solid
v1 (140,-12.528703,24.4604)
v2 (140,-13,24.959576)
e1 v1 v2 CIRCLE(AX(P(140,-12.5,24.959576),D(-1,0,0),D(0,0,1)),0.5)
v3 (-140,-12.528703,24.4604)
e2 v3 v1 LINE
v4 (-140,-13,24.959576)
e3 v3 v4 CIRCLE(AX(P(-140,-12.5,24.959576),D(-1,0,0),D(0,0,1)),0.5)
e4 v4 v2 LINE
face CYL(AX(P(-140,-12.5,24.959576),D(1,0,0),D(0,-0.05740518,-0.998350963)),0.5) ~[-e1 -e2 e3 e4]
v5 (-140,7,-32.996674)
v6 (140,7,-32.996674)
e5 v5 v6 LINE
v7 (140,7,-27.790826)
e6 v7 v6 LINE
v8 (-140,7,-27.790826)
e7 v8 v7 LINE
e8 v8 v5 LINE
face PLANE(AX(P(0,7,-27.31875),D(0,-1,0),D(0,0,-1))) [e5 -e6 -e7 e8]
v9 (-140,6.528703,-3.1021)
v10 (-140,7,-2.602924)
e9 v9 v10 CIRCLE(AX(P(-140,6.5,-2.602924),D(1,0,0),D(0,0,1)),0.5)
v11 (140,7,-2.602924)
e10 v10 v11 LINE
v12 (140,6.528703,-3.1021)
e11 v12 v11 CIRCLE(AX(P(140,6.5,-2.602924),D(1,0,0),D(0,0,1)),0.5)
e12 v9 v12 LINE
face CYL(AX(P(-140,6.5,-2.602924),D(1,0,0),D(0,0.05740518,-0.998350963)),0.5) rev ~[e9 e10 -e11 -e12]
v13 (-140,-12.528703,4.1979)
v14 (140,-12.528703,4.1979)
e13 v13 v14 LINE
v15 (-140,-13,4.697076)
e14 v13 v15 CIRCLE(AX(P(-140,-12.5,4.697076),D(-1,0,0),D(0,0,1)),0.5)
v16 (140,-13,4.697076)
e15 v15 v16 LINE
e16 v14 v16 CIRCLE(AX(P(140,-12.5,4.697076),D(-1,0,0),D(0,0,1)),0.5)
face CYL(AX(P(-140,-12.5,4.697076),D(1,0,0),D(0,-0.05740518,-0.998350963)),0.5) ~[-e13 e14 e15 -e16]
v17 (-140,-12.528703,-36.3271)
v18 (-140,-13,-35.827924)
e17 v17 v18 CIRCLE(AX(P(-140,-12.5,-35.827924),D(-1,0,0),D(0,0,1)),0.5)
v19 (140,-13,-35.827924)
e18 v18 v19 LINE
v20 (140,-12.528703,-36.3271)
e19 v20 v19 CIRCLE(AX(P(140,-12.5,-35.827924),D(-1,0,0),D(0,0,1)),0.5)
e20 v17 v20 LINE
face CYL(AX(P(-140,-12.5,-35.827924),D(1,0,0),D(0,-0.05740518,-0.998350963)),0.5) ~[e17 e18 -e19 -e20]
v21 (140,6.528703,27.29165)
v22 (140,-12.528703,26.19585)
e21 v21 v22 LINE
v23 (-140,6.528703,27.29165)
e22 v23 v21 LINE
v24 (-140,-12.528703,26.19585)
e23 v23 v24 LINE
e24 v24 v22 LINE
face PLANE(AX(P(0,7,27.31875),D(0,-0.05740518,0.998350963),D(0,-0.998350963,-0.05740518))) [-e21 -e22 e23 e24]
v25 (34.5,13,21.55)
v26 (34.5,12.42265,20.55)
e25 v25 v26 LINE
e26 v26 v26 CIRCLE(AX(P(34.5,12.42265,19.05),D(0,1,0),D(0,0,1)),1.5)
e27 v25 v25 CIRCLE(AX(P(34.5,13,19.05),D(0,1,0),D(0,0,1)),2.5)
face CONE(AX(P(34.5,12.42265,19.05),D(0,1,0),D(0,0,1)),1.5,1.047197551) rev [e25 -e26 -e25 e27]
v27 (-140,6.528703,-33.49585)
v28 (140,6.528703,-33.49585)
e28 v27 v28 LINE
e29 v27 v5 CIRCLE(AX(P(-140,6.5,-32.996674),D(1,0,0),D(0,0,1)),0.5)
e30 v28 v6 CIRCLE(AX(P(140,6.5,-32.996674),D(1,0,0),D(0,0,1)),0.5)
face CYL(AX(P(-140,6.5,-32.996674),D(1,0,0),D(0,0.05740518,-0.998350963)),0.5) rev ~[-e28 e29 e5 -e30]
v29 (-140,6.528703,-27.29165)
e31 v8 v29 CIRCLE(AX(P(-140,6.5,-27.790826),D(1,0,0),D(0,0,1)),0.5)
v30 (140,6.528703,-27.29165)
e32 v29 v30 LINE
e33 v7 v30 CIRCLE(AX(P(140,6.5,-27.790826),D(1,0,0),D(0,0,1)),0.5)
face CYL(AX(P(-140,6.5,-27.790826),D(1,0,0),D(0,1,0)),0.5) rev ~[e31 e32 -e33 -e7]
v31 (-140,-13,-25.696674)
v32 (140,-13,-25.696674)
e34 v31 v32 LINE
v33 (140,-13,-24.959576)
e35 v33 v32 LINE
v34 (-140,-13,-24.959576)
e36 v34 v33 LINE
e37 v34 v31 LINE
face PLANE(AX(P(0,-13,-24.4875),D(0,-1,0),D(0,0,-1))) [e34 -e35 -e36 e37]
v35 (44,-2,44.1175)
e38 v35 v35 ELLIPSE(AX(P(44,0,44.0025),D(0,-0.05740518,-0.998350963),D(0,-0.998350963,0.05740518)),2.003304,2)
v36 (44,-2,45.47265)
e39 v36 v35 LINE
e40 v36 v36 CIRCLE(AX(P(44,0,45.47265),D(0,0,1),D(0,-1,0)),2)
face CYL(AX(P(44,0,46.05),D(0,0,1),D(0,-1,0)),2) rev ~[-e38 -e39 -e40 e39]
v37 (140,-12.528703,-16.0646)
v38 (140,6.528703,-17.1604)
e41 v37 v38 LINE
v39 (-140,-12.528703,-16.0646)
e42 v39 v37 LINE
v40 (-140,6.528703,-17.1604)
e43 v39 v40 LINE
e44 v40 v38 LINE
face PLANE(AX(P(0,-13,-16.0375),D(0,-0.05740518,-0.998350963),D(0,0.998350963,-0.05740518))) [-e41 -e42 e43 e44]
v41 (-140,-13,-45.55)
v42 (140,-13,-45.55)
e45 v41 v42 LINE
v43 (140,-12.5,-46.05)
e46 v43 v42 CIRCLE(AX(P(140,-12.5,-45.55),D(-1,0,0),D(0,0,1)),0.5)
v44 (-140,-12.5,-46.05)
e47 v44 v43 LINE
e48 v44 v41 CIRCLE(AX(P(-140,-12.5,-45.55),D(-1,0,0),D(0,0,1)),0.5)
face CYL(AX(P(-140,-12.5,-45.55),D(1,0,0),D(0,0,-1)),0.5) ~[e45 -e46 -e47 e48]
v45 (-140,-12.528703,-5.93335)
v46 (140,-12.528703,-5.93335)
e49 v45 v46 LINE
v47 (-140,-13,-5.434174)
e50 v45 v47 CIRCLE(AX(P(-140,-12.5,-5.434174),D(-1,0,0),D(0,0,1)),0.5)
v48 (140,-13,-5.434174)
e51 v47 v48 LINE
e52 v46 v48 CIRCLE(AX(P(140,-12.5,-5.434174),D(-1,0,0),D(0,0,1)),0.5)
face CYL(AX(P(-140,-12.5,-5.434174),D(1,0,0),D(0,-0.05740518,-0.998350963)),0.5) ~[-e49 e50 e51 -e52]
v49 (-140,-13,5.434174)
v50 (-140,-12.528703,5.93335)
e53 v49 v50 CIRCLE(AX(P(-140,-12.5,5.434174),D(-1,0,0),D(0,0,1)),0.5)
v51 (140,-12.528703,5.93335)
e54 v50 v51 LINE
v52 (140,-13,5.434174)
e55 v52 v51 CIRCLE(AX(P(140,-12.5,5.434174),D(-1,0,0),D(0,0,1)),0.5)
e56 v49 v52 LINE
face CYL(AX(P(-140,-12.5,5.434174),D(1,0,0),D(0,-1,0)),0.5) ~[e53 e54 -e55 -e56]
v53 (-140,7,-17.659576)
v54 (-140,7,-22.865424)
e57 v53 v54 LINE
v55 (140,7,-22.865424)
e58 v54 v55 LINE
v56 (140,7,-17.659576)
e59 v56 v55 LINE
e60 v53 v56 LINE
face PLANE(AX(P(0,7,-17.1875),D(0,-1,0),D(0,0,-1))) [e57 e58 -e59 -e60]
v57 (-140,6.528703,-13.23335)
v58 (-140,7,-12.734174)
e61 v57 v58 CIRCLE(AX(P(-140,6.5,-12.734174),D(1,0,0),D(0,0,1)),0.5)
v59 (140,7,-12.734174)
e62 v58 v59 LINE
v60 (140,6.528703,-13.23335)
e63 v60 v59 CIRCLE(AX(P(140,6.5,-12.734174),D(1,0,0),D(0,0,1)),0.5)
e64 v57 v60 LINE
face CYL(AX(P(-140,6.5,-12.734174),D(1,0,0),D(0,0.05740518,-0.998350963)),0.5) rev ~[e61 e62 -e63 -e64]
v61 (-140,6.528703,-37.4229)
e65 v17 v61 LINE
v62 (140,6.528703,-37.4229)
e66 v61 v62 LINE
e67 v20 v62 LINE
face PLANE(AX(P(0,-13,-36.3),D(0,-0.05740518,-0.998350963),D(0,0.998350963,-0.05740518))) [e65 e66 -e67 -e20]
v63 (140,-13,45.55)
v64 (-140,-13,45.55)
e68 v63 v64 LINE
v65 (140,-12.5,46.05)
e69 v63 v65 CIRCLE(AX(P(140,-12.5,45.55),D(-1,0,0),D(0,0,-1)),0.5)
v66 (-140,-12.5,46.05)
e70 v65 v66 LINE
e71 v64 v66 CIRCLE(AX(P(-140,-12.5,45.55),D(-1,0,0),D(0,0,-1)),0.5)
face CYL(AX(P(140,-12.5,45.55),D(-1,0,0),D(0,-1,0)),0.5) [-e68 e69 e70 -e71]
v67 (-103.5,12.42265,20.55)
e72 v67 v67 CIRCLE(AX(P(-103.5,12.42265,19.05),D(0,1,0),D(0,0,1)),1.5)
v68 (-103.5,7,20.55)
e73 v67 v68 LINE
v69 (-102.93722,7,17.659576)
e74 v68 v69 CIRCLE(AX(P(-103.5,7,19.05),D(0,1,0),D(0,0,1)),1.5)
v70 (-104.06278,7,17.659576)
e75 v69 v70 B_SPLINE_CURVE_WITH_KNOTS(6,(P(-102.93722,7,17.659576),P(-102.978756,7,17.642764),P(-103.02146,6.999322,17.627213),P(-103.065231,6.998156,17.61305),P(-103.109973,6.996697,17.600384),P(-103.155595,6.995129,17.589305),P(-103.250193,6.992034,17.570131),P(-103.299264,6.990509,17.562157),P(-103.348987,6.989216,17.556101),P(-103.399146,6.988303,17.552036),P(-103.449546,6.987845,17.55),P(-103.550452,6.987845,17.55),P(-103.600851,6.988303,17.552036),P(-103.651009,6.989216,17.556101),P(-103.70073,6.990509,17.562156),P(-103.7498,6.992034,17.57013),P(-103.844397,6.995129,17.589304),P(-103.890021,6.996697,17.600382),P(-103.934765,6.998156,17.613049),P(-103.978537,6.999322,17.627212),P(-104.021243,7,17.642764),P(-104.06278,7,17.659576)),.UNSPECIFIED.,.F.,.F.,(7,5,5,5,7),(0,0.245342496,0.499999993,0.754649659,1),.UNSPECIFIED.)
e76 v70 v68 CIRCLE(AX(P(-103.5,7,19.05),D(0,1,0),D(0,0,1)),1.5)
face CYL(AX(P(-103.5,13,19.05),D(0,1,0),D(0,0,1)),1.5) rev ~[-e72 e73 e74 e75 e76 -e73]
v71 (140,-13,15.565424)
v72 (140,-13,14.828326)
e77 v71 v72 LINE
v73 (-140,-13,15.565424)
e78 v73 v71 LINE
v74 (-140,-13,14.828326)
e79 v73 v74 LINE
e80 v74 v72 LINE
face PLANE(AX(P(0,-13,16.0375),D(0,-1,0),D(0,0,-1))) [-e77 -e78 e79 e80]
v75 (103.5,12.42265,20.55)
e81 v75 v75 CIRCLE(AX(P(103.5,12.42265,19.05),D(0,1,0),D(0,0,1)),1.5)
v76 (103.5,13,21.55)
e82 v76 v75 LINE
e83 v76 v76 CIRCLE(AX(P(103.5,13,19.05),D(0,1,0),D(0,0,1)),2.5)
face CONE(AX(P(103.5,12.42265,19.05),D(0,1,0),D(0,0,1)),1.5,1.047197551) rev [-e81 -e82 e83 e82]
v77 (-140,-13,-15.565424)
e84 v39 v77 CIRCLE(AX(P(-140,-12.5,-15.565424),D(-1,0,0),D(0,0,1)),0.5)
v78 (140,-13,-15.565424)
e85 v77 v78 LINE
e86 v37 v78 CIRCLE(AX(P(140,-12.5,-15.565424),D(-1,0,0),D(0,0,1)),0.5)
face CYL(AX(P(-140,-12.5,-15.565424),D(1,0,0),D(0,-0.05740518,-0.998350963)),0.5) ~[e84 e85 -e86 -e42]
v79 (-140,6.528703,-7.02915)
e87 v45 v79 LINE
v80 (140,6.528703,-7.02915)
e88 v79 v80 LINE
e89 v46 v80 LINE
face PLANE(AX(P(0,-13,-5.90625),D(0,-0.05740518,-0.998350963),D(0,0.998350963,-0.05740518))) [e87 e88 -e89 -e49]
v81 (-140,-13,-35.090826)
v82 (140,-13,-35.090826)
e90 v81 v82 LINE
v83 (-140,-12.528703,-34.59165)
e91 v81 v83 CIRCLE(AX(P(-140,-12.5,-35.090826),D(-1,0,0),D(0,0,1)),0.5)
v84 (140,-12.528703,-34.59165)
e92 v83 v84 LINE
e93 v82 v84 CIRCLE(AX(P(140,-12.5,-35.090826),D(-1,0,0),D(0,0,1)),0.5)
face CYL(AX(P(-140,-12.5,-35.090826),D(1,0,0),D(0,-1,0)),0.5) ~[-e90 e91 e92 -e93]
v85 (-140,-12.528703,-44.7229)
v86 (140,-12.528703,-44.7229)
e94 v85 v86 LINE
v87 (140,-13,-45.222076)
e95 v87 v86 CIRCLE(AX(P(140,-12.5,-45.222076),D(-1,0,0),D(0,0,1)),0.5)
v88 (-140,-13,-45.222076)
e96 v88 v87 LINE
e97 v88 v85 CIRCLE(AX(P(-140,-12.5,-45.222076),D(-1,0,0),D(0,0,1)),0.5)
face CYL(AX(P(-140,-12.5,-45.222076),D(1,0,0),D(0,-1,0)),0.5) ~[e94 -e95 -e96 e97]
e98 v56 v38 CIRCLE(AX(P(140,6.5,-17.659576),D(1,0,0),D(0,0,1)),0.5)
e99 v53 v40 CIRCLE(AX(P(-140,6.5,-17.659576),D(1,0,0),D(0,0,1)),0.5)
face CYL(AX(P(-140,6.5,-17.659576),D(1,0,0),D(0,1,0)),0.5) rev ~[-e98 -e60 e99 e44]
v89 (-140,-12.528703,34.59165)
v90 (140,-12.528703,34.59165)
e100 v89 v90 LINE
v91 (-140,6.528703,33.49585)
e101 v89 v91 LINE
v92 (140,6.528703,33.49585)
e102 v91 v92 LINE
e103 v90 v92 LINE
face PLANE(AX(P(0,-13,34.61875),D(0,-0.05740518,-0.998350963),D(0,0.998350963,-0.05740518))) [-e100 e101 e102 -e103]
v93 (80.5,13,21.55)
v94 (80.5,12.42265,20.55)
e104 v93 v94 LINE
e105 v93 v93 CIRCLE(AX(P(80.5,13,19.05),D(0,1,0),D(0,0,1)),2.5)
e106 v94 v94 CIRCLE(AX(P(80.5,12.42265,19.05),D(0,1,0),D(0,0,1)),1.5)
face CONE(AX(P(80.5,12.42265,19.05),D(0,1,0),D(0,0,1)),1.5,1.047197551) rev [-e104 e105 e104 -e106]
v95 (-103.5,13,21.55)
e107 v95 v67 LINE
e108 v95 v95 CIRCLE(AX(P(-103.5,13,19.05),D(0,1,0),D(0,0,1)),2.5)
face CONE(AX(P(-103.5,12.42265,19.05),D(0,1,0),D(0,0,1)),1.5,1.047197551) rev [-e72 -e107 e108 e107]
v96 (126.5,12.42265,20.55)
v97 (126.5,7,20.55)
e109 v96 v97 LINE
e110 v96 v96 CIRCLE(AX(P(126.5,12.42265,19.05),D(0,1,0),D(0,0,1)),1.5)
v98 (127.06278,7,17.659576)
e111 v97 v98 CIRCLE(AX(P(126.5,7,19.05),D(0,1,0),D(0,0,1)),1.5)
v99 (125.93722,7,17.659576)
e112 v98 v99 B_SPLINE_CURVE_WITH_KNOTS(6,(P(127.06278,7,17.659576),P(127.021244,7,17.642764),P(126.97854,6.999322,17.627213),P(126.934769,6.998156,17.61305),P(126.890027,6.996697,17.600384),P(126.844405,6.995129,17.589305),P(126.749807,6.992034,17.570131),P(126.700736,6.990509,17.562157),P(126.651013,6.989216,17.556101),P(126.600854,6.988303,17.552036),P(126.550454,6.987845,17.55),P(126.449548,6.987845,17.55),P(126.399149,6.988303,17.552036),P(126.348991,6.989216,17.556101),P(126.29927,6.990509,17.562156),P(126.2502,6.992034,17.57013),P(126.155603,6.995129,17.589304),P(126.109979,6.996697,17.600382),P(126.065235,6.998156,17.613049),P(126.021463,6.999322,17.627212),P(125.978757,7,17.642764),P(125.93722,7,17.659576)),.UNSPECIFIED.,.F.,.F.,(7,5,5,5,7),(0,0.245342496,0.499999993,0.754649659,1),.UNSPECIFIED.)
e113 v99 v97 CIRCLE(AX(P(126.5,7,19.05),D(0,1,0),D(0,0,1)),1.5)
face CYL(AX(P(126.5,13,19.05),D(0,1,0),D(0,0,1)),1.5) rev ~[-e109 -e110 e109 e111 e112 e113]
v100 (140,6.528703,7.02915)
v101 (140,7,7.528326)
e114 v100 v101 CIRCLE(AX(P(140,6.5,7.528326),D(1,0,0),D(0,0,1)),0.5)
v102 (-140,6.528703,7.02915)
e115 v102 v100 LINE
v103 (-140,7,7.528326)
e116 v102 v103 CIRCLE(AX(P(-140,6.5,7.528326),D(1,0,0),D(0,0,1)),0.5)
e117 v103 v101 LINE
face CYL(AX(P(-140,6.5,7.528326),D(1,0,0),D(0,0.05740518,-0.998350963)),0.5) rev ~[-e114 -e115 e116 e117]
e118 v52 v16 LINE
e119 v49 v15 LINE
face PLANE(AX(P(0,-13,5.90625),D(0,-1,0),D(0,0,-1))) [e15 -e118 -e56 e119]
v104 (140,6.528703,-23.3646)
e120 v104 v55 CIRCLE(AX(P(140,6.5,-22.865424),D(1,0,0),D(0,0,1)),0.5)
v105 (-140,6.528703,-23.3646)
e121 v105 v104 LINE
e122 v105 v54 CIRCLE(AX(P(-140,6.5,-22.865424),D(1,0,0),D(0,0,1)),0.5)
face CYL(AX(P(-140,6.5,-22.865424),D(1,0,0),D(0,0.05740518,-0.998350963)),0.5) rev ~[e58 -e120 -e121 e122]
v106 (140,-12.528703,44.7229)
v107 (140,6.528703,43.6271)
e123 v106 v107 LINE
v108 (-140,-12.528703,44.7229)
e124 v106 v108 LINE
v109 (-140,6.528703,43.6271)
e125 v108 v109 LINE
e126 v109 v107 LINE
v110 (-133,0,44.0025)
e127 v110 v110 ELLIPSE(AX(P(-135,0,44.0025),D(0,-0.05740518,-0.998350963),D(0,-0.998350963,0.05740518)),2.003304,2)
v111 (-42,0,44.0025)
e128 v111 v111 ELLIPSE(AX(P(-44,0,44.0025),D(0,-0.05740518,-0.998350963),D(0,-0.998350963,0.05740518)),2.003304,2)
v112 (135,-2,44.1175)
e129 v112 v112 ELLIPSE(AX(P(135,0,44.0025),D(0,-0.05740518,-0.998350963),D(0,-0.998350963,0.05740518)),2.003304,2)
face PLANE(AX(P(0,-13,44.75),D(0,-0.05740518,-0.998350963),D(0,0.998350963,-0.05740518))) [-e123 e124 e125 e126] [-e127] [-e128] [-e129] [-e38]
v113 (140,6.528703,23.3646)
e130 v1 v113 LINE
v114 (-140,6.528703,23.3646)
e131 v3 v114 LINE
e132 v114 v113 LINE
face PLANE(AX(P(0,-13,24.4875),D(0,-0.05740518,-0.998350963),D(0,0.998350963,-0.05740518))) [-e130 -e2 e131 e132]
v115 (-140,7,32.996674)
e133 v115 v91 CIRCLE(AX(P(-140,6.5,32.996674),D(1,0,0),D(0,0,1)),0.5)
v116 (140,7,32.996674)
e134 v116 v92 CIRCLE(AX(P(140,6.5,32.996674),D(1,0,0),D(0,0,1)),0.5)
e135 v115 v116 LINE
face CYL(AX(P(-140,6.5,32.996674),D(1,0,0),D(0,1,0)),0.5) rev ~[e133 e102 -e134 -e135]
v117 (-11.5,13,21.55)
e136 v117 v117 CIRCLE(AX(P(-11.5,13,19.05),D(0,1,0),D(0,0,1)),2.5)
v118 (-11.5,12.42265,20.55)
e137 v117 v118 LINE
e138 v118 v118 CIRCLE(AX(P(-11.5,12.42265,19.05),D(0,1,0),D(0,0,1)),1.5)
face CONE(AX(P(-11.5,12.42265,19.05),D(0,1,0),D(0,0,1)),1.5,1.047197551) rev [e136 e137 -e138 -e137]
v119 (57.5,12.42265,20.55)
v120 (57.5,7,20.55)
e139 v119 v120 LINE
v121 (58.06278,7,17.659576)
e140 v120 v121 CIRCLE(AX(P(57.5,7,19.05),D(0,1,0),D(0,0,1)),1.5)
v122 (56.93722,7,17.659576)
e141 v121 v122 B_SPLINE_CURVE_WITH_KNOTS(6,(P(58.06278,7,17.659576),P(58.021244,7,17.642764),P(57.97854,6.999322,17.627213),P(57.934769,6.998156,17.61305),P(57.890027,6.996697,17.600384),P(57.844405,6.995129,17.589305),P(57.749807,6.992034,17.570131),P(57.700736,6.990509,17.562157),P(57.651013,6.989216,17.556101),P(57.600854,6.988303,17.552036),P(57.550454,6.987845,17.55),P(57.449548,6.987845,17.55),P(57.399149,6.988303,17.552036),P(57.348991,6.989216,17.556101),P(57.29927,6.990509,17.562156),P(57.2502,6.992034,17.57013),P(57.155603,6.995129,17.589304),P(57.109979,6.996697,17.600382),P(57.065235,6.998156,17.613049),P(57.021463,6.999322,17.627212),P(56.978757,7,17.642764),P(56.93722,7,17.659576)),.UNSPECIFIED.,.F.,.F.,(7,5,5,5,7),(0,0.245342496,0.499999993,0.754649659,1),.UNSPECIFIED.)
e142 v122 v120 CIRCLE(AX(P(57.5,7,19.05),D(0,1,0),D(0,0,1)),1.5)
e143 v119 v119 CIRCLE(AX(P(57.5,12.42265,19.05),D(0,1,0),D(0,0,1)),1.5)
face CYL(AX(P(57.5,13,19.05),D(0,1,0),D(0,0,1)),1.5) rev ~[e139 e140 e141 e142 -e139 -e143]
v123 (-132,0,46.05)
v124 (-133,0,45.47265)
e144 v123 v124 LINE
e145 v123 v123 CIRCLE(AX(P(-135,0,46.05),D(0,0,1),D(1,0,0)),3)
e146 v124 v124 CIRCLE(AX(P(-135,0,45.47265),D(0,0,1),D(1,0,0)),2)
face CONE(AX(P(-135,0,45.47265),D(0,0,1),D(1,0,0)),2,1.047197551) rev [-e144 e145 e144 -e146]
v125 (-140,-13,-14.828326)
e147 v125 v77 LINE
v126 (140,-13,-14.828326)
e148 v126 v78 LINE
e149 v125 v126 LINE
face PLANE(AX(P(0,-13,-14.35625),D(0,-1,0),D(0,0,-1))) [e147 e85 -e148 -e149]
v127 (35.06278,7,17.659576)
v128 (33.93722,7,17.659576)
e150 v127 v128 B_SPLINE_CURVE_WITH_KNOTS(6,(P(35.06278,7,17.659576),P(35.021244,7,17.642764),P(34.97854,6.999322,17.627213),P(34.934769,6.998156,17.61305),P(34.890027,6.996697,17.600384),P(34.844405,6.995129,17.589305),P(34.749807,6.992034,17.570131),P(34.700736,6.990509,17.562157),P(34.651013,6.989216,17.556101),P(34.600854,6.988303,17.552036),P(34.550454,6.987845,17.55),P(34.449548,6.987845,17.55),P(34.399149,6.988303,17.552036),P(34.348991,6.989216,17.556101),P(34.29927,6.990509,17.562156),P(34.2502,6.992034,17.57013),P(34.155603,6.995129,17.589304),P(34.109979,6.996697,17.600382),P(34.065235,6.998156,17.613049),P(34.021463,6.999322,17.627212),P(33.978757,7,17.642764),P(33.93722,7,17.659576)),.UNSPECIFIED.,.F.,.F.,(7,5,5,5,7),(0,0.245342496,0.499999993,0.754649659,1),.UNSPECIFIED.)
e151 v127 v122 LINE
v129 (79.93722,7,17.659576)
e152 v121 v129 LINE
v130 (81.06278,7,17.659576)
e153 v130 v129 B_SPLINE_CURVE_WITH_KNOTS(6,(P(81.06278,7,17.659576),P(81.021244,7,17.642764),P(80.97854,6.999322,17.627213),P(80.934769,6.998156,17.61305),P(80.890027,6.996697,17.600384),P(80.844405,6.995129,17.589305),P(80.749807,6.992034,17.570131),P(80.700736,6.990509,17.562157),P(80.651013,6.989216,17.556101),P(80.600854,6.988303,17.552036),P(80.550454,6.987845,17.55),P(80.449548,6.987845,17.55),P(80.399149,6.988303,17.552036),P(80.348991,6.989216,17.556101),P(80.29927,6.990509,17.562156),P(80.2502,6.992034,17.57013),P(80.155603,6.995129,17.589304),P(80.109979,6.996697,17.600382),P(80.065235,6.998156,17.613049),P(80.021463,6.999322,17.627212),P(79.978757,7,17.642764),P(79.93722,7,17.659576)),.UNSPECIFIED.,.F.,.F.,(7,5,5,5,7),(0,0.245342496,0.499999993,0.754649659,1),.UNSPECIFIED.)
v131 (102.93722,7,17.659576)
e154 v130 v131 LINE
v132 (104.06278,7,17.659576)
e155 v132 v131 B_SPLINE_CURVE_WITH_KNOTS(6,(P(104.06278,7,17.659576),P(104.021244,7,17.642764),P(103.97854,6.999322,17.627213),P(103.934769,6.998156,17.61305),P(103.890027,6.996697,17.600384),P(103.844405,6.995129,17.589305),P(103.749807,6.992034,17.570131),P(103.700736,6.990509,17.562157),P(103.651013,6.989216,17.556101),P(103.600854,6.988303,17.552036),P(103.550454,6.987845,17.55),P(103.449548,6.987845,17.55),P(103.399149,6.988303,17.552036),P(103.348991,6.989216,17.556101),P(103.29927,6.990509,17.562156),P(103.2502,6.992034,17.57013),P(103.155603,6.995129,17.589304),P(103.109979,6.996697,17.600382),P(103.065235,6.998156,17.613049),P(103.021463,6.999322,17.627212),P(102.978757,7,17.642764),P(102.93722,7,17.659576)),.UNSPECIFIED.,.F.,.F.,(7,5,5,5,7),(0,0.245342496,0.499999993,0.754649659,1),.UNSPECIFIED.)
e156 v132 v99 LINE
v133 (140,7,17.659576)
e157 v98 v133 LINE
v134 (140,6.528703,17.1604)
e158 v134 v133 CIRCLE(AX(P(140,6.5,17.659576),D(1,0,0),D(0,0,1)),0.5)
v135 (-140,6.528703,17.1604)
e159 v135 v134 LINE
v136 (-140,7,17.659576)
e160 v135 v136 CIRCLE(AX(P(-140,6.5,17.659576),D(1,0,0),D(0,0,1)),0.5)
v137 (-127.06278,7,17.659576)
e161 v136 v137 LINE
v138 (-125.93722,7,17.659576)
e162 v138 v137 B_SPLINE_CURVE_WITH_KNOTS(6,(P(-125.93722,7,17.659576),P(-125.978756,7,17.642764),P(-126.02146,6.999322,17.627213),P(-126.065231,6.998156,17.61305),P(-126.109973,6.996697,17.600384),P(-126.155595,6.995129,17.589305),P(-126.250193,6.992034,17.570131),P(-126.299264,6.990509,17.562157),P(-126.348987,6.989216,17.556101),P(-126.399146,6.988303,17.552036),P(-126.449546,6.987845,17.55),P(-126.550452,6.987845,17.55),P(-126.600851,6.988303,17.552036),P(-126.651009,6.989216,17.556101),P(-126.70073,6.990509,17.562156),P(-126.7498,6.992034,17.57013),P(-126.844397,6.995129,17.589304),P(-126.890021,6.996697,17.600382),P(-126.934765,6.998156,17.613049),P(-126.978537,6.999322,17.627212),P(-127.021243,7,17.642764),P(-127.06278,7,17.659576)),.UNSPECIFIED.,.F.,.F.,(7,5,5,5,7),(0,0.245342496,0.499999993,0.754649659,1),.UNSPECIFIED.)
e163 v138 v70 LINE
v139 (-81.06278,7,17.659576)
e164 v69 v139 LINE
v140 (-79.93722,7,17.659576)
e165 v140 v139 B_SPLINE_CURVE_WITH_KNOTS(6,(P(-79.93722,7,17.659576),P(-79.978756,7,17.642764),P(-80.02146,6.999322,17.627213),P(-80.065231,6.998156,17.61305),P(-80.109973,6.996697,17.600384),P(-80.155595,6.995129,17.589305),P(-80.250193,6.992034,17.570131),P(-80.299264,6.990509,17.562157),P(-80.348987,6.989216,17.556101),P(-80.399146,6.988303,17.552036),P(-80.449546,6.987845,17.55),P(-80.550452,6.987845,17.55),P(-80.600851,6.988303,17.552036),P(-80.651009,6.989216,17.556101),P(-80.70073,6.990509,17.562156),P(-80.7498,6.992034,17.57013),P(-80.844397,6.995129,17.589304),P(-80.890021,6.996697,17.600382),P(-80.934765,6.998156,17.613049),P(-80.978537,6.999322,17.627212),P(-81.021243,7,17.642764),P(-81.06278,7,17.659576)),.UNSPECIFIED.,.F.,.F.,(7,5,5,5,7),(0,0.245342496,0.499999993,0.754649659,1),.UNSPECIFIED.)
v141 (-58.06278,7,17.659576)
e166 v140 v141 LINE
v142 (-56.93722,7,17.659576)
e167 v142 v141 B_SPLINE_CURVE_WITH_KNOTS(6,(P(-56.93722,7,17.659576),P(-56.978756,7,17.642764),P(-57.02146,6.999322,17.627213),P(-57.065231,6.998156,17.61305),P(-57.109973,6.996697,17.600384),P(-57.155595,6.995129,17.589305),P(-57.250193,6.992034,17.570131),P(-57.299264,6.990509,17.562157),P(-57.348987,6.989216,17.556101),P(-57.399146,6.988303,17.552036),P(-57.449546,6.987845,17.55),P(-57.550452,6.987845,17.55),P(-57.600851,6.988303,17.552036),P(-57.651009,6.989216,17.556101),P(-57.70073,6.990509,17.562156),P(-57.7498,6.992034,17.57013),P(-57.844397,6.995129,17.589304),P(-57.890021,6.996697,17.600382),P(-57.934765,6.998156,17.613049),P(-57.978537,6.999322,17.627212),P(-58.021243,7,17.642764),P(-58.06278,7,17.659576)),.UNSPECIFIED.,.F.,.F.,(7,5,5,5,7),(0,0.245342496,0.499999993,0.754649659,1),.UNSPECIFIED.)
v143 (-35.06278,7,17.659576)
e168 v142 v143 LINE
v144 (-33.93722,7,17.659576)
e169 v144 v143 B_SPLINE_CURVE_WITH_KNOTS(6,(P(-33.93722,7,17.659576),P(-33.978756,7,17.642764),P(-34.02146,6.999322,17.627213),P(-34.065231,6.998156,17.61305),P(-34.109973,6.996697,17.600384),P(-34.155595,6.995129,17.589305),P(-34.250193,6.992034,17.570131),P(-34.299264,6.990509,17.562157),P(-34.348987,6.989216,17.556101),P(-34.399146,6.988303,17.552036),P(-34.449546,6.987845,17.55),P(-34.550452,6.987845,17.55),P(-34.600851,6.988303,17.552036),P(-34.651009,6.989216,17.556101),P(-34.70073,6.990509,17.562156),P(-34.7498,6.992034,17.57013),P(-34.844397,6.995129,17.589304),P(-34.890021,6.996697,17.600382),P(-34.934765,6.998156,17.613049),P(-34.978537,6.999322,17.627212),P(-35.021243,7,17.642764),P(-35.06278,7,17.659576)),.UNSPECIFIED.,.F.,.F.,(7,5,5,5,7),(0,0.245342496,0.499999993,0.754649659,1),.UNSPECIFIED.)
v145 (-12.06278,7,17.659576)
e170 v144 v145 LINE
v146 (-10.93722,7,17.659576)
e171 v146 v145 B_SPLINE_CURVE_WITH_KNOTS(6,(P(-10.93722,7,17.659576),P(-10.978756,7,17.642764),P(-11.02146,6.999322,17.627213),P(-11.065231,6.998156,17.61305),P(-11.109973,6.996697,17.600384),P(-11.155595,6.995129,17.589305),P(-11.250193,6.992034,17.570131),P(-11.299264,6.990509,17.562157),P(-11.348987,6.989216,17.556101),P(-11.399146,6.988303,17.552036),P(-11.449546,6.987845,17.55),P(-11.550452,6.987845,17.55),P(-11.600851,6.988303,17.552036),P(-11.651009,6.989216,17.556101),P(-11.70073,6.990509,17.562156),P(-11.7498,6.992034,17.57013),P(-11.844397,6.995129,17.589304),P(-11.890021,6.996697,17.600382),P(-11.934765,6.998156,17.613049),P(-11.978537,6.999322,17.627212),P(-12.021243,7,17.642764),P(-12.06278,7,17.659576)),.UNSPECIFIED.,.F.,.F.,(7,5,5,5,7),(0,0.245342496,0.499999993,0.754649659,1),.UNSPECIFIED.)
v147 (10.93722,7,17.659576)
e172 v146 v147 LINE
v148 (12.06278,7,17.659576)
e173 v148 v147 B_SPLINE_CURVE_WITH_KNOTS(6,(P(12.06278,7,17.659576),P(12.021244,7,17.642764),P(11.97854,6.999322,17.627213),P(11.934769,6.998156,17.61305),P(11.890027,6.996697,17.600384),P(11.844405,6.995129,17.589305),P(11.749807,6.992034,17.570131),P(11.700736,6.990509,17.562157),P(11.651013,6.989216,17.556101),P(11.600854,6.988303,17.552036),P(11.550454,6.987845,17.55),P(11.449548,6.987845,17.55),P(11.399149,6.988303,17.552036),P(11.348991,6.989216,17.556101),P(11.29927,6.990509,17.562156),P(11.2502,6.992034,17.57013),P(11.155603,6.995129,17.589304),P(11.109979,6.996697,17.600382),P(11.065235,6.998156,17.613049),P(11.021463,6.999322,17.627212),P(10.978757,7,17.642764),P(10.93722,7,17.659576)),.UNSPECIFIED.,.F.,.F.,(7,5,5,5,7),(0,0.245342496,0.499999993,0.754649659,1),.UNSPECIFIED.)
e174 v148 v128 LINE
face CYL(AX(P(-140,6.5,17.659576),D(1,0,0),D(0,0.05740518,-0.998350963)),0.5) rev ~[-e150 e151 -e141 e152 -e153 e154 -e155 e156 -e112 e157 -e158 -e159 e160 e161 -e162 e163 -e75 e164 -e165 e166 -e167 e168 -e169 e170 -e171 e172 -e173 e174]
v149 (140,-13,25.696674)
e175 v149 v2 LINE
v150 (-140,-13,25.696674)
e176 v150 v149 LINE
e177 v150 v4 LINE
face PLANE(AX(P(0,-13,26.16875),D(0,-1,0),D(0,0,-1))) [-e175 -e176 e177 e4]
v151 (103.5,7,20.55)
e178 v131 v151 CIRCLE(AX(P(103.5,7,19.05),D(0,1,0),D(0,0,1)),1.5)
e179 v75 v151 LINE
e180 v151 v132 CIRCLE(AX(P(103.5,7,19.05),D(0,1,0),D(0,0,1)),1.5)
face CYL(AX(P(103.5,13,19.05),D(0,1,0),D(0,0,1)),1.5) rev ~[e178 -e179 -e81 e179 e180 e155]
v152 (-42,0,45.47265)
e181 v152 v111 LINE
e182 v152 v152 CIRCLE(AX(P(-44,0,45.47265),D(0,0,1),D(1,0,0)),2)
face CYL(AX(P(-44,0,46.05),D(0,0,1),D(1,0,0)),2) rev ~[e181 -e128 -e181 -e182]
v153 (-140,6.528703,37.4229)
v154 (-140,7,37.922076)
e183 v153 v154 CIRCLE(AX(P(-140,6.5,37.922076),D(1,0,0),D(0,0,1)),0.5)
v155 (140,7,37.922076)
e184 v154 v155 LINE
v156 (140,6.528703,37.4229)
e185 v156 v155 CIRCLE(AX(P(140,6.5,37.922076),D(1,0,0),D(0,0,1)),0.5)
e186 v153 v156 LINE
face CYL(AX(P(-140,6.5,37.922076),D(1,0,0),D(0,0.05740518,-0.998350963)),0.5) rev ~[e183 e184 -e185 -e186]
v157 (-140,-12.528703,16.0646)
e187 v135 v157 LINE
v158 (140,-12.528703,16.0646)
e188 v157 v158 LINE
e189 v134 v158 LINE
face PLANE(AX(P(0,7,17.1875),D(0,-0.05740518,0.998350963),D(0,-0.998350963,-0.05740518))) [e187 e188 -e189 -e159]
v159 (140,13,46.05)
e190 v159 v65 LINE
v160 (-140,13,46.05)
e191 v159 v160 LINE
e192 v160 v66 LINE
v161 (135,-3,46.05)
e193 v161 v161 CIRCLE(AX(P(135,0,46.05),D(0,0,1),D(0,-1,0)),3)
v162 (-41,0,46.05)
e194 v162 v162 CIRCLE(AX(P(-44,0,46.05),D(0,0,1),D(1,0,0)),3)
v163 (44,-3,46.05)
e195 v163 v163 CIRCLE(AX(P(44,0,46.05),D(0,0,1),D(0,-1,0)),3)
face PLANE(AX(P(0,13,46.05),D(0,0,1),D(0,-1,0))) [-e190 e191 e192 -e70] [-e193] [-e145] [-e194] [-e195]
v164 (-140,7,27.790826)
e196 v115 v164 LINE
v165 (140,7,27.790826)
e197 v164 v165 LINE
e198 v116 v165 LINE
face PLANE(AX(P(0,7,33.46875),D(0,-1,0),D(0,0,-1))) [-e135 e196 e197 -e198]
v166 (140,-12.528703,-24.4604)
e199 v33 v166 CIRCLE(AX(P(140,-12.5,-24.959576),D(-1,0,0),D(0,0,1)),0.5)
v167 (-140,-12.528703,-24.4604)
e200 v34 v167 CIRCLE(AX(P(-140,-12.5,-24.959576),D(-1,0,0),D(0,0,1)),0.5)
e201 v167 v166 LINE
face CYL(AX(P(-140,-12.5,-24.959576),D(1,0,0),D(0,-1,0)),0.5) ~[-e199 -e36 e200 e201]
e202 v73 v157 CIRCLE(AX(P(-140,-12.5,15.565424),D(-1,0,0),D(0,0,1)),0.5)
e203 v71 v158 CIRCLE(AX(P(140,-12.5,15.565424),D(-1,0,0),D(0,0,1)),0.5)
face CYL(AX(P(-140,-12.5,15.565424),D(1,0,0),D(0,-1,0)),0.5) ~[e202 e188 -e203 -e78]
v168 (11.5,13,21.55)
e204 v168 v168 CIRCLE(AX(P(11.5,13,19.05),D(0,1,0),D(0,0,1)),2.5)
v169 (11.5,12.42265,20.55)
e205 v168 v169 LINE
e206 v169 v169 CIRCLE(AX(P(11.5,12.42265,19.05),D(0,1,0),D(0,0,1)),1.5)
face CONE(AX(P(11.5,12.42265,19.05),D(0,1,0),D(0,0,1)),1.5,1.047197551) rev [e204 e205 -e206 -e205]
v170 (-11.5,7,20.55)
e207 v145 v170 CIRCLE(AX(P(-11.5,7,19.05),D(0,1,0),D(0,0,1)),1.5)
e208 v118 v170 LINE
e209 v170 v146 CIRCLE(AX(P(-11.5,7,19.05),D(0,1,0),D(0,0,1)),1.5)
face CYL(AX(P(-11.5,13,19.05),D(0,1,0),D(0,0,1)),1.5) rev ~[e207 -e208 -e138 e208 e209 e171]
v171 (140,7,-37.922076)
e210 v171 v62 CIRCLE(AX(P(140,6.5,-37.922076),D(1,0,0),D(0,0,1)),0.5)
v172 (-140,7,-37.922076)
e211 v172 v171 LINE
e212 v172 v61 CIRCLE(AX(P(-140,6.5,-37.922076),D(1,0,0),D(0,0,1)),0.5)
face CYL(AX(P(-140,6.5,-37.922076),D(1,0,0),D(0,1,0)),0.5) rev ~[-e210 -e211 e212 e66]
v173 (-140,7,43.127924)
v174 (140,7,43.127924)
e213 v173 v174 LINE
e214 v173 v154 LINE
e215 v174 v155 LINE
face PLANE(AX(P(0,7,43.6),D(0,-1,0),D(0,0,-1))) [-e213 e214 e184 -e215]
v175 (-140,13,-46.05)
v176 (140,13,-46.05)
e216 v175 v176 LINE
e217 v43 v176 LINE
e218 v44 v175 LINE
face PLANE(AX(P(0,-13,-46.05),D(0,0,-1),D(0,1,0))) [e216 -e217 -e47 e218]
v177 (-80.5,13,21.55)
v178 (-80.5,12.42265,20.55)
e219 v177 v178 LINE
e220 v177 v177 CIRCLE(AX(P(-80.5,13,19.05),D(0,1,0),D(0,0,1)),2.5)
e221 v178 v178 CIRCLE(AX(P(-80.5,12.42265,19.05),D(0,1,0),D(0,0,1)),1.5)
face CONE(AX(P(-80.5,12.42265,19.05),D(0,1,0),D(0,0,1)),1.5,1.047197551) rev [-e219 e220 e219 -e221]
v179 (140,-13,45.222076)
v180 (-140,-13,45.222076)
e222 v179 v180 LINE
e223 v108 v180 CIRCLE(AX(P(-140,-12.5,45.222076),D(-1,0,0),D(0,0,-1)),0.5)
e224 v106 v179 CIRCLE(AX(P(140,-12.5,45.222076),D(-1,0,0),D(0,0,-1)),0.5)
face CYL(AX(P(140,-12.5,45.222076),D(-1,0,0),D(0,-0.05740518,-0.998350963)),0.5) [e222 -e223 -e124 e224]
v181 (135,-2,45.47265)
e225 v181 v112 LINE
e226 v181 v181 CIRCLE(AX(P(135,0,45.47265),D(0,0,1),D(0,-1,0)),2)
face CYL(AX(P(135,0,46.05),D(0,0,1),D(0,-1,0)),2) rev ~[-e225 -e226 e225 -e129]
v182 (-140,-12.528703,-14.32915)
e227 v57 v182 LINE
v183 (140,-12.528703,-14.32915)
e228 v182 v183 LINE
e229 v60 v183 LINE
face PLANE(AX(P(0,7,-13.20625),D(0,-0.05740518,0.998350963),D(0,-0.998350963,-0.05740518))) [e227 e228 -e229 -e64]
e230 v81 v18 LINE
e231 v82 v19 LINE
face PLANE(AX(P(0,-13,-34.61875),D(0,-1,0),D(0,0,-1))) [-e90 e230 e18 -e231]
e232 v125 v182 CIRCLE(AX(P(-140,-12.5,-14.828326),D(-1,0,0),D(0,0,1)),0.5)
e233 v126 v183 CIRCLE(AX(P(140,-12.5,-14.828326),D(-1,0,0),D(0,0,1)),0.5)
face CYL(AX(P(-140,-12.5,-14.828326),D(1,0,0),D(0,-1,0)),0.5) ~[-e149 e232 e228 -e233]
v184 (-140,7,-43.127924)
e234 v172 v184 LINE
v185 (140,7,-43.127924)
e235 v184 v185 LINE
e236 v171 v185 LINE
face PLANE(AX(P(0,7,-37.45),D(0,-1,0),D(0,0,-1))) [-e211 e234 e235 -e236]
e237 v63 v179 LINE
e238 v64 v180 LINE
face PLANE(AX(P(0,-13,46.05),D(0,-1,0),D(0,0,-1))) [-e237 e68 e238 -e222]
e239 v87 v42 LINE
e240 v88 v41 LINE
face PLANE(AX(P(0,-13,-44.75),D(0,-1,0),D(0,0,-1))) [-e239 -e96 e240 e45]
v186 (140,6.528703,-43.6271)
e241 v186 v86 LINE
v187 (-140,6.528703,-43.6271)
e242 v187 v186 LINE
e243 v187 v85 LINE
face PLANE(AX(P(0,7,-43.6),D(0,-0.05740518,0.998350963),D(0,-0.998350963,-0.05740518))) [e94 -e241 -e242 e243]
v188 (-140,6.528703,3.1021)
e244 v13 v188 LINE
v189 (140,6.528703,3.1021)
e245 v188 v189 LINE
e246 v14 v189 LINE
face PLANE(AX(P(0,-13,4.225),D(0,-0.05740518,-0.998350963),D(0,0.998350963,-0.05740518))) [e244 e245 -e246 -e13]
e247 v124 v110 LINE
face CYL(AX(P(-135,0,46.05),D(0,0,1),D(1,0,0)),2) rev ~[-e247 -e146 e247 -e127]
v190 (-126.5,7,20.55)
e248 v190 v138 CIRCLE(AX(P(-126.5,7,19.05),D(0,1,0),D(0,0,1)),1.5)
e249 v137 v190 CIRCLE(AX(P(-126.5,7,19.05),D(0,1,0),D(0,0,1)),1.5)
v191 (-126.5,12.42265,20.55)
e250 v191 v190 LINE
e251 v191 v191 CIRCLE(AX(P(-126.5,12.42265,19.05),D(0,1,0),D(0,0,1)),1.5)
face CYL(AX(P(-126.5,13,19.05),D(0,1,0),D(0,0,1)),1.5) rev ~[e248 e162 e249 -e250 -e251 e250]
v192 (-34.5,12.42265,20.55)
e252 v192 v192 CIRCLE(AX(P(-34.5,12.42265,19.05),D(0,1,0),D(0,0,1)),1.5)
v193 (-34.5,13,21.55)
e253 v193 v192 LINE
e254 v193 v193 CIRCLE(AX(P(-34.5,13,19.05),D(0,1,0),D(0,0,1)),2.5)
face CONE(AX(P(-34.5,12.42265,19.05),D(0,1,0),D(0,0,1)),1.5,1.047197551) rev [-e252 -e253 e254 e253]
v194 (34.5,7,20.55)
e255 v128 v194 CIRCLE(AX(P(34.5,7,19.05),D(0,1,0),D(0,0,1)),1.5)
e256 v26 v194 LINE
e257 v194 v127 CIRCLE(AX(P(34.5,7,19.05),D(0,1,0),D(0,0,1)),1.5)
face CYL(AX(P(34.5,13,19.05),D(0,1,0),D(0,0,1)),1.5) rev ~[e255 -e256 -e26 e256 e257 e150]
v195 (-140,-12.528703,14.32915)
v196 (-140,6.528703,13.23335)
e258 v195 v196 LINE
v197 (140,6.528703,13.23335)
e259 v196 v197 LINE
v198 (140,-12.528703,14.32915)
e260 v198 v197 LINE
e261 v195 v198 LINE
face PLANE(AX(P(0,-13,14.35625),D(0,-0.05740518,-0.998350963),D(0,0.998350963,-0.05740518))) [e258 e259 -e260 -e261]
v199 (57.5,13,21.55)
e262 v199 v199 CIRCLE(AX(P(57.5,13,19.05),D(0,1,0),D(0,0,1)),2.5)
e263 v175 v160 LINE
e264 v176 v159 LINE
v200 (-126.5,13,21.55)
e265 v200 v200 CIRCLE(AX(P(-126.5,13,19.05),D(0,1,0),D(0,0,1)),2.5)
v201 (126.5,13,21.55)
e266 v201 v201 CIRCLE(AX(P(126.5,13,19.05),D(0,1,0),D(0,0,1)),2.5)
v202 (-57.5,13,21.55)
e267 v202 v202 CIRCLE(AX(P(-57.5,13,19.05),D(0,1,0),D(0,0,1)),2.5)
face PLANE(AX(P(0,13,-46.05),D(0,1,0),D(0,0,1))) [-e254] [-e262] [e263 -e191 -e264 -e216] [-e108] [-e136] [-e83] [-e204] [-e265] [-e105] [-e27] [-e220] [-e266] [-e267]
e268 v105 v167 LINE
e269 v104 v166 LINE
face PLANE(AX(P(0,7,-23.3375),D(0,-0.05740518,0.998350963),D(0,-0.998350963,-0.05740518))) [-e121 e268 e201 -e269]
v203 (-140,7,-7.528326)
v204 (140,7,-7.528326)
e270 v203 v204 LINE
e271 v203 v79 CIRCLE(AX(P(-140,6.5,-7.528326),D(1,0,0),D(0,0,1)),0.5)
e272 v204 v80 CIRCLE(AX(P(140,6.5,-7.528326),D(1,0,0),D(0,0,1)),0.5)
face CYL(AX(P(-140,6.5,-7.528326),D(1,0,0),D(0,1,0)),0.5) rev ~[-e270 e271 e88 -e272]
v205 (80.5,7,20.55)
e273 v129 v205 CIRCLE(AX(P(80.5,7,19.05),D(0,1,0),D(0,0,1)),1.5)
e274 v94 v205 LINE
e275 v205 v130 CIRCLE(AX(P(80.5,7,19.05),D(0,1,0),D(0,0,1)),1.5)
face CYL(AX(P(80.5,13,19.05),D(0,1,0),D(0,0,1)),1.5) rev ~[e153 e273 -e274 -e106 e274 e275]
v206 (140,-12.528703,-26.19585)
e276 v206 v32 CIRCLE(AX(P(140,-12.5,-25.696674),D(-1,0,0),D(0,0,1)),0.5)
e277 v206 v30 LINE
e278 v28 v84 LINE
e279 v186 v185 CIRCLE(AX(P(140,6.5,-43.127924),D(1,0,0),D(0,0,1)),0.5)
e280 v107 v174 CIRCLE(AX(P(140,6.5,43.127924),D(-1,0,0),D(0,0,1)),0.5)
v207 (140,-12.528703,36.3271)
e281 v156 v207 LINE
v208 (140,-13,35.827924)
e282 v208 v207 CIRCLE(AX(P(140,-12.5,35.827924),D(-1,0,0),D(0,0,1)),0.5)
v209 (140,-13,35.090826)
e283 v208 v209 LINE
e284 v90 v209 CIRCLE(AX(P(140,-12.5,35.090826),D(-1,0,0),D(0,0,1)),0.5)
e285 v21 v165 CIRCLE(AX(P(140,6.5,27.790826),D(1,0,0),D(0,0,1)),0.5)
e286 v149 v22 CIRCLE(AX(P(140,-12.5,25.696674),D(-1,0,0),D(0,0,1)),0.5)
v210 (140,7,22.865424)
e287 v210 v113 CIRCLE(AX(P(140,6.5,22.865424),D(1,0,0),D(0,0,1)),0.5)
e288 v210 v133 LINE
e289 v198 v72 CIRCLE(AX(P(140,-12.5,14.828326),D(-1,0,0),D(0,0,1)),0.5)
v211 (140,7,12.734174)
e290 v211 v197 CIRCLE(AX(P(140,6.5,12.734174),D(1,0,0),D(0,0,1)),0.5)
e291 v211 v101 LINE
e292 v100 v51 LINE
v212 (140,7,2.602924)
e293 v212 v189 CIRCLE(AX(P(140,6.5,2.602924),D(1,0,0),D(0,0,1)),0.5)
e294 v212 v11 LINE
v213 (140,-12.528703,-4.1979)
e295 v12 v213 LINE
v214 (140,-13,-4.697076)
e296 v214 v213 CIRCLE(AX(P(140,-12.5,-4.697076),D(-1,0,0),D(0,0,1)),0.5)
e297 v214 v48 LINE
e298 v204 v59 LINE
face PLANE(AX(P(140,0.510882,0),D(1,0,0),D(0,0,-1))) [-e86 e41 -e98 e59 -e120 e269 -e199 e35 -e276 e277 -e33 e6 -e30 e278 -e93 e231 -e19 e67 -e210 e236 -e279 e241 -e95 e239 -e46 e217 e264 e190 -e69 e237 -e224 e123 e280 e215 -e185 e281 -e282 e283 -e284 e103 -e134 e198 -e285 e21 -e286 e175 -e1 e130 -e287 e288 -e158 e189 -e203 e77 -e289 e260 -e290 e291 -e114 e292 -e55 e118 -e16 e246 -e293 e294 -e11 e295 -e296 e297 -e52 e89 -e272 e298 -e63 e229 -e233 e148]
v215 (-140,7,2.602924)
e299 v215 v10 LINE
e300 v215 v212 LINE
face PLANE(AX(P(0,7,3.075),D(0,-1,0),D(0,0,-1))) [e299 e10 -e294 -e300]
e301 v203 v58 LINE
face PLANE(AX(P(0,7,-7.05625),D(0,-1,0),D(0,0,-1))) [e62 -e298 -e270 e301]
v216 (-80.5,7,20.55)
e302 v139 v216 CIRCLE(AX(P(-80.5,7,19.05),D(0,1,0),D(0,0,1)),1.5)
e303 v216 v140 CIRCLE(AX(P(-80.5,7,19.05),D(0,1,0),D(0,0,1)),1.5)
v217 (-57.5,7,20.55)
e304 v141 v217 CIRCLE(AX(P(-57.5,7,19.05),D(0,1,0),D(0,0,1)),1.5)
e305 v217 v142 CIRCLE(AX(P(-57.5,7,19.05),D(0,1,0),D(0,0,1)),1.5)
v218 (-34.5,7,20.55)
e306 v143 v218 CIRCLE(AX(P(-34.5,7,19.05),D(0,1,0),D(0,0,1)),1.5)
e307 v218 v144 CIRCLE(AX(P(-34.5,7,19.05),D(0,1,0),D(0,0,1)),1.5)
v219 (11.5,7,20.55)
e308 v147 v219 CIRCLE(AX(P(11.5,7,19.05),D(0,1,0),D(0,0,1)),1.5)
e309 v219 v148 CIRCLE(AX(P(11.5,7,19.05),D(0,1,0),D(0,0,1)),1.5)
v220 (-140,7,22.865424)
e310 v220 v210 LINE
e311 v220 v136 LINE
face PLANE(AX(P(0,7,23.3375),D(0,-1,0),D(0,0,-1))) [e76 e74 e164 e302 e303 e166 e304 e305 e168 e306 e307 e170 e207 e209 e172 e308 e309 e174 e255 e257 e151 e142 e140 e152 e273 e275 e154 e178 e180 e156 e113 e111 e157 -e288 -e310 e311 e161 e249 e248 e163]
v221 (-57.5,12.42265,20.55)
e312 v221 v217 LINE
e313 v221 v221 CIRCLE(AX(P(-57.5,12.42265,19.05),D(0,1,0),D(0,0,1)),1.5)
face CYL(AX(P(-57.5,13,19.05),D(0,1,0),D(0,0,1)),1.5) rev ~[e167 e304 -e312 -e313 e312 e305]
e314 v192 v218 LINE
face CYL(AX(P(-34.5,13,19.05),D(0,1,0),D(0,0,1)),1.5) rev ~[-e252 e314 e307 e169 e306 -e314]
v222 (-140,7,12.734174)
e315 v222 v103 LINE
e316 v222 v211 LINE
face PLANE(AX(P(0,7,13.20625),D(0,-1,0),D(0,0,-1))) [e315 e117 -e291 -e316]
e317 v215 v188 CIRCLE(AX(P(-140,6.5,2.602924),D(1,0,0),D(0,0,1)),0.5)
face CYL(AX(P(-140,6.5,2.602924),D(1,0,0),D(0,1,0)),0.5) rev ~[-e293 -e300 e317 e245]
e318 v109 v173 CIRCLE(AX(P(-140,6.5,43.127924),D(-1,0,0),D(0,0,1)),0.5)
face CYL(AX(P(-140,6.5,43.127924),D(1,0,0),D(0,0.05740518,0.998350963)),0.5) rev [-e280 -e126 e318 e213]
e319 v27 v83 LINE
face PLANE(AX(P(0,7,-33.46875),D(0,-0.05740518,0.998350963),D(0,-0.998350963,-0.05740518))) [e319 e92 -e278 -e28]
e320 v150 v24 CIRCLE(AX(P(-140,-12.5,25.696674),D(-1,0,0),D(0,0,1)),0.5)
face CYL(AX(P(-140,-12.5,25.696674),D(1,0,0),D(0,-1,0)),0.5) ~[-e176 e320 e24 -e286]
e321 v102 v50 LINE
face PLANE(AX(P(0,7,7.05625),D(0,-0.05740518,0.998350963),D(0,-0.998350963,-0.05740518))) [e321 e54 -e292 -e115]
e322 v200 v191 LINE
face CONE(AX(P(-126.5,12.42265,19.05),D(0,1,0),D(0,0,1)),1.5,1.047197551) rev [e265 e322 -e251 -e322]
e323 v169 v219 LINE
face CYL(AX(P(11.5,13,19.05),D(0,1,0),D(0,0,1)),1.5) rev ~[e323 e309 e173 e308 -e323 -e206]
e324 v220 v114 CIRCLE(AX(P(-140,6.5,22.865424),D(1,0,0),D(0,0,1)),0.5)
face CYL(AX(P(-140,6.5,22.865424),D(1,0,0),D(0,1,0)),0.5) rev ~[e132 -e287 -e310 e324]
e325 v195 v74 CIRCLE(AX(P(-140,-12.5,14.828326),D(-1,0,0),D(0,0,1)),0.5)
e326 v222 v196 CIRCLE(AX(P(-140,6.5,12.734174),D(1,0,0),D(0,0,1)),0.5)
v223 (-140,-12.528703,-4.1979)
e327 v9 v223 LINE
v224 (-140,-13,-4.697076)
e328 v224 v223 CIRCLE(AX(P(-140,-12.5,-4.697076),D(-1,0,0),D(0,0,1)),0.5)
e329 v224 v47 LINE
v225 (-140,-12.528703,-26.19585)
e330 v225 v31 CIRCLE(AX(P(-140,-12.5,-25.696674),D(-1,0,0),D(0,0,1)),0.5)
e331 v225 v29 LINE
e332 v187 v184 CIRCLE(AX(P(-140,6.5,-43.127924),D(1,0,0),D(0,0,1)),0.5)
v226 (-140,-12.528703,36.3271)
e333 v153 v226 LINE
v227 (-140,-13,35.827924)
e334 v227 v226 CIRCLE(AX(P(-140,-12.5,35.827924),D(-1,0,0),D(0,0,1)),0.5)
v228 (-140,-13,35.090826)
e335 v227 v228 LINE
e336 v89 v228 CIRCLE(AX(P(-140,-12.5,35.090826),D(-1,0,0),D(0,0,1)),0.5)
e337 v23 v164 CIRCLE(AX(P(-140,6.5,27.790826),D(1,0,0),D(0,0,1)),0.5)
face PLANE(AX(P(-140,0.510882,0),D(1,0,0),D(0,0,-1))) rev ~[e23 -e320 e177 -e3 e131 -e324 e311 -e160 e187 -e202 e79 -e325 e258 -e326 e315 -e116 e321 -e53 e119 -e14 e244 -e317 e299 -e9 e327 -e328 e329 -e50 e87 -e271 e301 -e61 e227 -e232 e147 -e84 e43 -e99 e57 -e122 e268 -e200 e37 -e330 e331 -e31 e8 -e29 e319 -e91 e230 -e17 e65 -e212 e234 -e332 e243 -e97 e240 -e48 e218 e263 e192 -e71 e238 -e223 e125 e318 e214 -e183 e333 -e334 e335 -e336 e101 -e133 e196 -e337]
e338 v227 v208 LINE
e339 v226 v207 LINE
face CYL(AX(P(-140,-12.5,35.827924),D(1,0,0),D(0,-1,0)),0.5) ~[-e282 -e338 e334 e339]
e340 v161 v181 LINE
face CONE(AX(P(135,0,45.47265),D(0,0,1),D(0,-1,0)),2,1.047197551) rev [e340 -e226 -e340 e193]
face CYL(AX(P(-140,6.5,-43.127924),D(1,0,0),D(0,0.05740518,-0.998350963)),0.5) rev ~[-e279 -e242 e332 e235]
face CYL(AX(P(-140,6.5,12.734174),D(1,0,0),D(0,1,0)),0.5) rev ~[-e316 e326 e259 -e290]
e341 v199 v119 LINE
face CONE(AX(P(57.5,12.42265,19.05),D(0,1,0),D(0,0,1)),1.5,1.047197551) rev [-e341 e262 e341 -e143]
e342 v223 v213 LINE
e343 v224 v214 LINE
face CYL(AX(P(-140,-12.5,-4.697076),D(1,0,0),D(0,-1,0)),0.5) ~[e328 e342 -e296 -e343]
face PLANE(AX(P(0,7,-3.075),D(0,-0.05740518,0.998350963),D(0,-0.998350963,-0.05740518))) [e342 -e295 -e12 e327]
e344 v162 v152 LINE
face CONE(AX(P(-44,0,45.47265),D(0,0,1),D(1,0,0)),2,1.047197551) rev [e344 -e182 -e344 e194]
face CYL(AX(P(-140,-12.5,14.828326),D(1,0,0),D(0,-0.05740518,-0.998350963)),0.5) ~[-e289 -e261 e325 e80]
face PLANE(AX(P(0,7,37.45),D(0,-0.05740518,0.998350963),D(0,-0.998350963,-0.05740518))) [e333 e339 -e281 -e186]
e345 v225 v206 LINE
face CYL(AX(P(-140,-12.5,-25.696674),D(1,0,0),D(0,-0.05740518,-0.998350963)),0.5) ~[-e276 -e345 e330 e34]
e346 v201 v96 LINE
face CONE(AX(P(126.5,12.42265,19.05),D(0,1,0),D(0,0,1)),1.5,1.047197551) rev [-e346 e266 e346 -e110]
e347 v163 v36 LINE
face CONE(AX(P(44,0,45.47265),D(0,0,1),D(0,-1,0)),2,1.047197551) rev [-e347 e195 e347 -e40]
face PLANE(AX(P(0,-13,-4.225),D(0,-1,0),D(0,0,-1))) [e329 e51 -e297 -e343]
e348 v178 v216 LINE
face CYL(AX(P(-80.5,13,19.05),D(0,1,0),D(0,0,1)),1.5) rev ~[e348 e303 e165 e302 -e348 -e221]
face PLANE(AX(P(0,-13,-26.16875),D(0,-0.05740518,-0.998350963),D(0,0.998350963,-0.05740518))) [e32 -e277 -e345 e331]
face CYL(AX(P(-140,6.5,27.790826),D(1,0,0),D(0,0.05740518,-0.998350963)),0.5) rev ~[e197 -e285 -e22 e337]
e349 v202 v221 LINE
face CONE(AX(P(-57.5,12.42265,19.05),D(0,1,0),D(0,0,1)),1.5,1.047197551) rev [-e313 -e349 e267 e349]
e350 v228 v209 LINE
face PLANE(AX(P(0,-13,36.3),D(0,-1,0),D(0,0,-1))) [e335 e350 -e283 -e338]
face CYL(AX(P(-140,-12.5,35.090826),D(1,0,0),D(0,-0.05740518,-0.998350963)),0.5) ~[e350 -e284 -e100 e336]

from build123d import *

# Parameters (mm, degrees)
BOSS_EXTRUDE1_DEPTH = 140
FILLET1_R           = 0.5
SKETCH2_R           = 1.5
CUT_EXTRUDE1_DEPTH  = 20
CHAMFER1_SIZE       = 1
CHAMFER1_SIZE2      = 0.577350269
SKETCH3_R           = 2
CUT_EXTRUDE2_DEPTH  = 5
CHAMFER2_SIZE       = 1
CHAMFER2_SIZE2      = 0.577350269


with BuildPart() as part:
    # Sketch1 → Boss-Extrude1 (new, symmetric)
    with BuildSketch(Plane(origin=(0, 0, 0), x_dir=(0, 0, -1), z_dir=(1, 0, 0))):
        Polygon((-44.75, -13), (-43.6, 7), (-37.45, 7), (-36.3, -13), (-34.61875, -13), (-33.46875, 7), (-27.31875, 7), (-26.16875, -13), (-24.4875, -13), (-23.3375, 7), (-17.1875, 7), (-16.0375, -13), (-14.35625, -13), (-13.20625, 7), (-7.05625, 7), (-5.90625, -13), (-4.225, -13), (-3.075, 7), (3.075, 7), (4.225, -13), (5.90625, -13), (7.05625, 7), (13.20625, 7), (14.35625, -13), (16.0375, -13), (17.1875, 7), (23.3375, 7), (24.4875, -13), (26.16875, -13), (27.31875, 7), (33.46875, 7), (34.61875, -13), (36.3, -13), (37.45, 7), (43.6, 7), (44.75, -13), (46.05, -13), (46.05, 13), (-46.05, 13), (-46.05, -13), align=None)
    extrude(amount=BOSS_EXTRUDE1_DEPTH, both=True)

    # Fillet1
    fillet1_edges = [part.edges().sort_by_distance(p)[0] for p in [
        (0, -13, -44.75),
        (0, 7, -43.6),
        (0, 7, -37.45),
        (0, -13, -36.3),
        (0, -13, -34.61875),
        (0, 7, -33.46875),
        (0, 7, -27.31875),
        (0, -13, -26.16875),
        (0, -13, -24.4875),
        (0, 7, -23.3375),
        (0, 7, -17.1875),
        (0, -13, -16.0375),
        (0, -13, -14.35625),
        (0, 7, -13.20625),
        (0, 7, -7.05625),
        (0, -13, -5.90625),
        (0, -13, -4.225),
        (0, 7, -3.075),
        (0, 7, 3.075),
        (0, -13, 4.225),
        (0, -13, 5.90625),
        (0, 7, 7.05625),
        (0, 7, 13.20625),
        (0, -13, 14.35625),
        (0, -13, 16.0375),
        (0, 7, 17.1875),
        (0, 7, 23.3375),
        (0, -13, 24.4875),
        (0, -13, 26.16875),
        (0, 7, 27.31875),
        (0, 7, 33.46875),
        (0, -13, 34.61875),
        (0, -13, 36.3),
        (0, 7, 37.45),
        (0, 7, 43.6),
        (0, -13, 44.75),
        (0, -13, 46.05),
        (0, -13, -46.05),
    ]]
    fillet(fillet1_edges, radius=FILLET1_R)

    # Sketch2 → Cut-Extrude1 (cut)
    with BuildSketch(Plane(origin=(0, 13, 0), x_dir=(1, 0, 0), z_dir=(0, 1, 0))):
        with Locations(Location((126.5, -19.05, 0), (0, 0, 270))):
            Circle(SKETCH2_R)
        with Locations(Location((103.5, -19.05, 0), (0, 0, 270))):
            Circle(SKETCH2_R)
        with Locations(Location((80.5, -19.05, 0), (0, 0, 270))):
            Circle(SKETCH2_R)
        with Locations(Location((57.5, -19.05, 0), (0, 0, 270))):
            Circle(SKETCH2_R)
        with Locations(Location((34.5, -19.05, 0), (0, 0, 270))):
            Circle(SKETCH2_R)
        with Locations(Location((11.5, -19.05, 0), (0, 0, 270))):
            Circle(SKETCH2_R)
        with Locations(Location((-11.5, -19.05, 0), (0, 0, 270))):
            Circle(SKETCH2_R)
        with Locations(Location((-34.5, -19.05, 0), (0, 0, 270))):
            Circle(SKETCH2_R)
        with Locations(Location((-57.5, -19.05, 0), (0, 0, 270))):
            Circle(SKETCH2_R)
        with Locations(Location((-80.5, -19.05, 0), (0, 0, 270))):
            Circle(SKETCH2_R)
        with Locations(Location((-103.5, -19.05, 0), (0, 0, 270))):
            Circle(SKETCH2_R)
        with Locations(Location((-126.5, -19.05, 0), (0, 0, 270))):
            Circle(SKETCH2_R)
    extrude(amount=-CUT_EXTRUDE1_DEPTH, mode=Mode.SUBTRACT)

    # Chamfer1
    chamfer1_edges = [part.edges().sort_by_distance(p)[0] for p in [
        (126.5, 13, 17.55),
        (103.5, 13, 17.55),
        (80.5, 13, 17.55),
        (57.5, 13, 17.55),
        (34.5, 13, 17.55),
        (11.5, 13, 17.55),
        (-11.5, 13, 17.55),
        (-34.5, 13, 17.55),
        (-57.5, 13, 17.55),
        (-80.5, 13, 17.55),
        (-103.5, 13, 17.55),
        (-126.5, 13, 17.55),
    ]]
    chamfer1_side = [part.faces().sort_by_distance(p)[0] for p in [
        (0, 13, -0.062866866),
    ]]
    chamfer(chamfer1_edges, length=CHAMFER1_SIZE, length2=CHAMFER1_SIZE2, reference=chamfer1_side[0])

    # Sketch3 → Cut-Extrude2 (cut)
    with BuildSketch(Plane.XY.offset(46.05)):
        with Locations((-135, 0)):
            Circle(SKETCH3_R)
        with Locations((-44, 0)):
            Circle(SKETCH3_R)
        with Locations(Location((44, 0, 0), (0, 0, 270))):
            Circle(SKETCH3_R)
        with Locations(Location((135, 0, 0), (0, 0, 270))):
            Circle(SKETCH3_R)
    extrude(amount=-CUT_EXTRUDE2_DEPTH, mode=Mode.SUBTRACT)

    # Chamfer2
    chamfer2_edges = [part.edges().sort_by_distance(p)[0] for p in [
        (-137, 0, 46.05),
        (-46, 0, 46.05),
        (44, 2, 46.05),
        (135, 2, 46.05),
    ]]
    chamfer2_side = [part.faces().sort_by_distance(p)[0] for p in [
        (0, 0.251772474, 46.05),
    ]]
    chamfer(chamfer2_edges, length=CHAMFER2_SIZE, length2=CHAMFER2_SIZE2, reference=chamfer2_side[0])


solid = part.part
